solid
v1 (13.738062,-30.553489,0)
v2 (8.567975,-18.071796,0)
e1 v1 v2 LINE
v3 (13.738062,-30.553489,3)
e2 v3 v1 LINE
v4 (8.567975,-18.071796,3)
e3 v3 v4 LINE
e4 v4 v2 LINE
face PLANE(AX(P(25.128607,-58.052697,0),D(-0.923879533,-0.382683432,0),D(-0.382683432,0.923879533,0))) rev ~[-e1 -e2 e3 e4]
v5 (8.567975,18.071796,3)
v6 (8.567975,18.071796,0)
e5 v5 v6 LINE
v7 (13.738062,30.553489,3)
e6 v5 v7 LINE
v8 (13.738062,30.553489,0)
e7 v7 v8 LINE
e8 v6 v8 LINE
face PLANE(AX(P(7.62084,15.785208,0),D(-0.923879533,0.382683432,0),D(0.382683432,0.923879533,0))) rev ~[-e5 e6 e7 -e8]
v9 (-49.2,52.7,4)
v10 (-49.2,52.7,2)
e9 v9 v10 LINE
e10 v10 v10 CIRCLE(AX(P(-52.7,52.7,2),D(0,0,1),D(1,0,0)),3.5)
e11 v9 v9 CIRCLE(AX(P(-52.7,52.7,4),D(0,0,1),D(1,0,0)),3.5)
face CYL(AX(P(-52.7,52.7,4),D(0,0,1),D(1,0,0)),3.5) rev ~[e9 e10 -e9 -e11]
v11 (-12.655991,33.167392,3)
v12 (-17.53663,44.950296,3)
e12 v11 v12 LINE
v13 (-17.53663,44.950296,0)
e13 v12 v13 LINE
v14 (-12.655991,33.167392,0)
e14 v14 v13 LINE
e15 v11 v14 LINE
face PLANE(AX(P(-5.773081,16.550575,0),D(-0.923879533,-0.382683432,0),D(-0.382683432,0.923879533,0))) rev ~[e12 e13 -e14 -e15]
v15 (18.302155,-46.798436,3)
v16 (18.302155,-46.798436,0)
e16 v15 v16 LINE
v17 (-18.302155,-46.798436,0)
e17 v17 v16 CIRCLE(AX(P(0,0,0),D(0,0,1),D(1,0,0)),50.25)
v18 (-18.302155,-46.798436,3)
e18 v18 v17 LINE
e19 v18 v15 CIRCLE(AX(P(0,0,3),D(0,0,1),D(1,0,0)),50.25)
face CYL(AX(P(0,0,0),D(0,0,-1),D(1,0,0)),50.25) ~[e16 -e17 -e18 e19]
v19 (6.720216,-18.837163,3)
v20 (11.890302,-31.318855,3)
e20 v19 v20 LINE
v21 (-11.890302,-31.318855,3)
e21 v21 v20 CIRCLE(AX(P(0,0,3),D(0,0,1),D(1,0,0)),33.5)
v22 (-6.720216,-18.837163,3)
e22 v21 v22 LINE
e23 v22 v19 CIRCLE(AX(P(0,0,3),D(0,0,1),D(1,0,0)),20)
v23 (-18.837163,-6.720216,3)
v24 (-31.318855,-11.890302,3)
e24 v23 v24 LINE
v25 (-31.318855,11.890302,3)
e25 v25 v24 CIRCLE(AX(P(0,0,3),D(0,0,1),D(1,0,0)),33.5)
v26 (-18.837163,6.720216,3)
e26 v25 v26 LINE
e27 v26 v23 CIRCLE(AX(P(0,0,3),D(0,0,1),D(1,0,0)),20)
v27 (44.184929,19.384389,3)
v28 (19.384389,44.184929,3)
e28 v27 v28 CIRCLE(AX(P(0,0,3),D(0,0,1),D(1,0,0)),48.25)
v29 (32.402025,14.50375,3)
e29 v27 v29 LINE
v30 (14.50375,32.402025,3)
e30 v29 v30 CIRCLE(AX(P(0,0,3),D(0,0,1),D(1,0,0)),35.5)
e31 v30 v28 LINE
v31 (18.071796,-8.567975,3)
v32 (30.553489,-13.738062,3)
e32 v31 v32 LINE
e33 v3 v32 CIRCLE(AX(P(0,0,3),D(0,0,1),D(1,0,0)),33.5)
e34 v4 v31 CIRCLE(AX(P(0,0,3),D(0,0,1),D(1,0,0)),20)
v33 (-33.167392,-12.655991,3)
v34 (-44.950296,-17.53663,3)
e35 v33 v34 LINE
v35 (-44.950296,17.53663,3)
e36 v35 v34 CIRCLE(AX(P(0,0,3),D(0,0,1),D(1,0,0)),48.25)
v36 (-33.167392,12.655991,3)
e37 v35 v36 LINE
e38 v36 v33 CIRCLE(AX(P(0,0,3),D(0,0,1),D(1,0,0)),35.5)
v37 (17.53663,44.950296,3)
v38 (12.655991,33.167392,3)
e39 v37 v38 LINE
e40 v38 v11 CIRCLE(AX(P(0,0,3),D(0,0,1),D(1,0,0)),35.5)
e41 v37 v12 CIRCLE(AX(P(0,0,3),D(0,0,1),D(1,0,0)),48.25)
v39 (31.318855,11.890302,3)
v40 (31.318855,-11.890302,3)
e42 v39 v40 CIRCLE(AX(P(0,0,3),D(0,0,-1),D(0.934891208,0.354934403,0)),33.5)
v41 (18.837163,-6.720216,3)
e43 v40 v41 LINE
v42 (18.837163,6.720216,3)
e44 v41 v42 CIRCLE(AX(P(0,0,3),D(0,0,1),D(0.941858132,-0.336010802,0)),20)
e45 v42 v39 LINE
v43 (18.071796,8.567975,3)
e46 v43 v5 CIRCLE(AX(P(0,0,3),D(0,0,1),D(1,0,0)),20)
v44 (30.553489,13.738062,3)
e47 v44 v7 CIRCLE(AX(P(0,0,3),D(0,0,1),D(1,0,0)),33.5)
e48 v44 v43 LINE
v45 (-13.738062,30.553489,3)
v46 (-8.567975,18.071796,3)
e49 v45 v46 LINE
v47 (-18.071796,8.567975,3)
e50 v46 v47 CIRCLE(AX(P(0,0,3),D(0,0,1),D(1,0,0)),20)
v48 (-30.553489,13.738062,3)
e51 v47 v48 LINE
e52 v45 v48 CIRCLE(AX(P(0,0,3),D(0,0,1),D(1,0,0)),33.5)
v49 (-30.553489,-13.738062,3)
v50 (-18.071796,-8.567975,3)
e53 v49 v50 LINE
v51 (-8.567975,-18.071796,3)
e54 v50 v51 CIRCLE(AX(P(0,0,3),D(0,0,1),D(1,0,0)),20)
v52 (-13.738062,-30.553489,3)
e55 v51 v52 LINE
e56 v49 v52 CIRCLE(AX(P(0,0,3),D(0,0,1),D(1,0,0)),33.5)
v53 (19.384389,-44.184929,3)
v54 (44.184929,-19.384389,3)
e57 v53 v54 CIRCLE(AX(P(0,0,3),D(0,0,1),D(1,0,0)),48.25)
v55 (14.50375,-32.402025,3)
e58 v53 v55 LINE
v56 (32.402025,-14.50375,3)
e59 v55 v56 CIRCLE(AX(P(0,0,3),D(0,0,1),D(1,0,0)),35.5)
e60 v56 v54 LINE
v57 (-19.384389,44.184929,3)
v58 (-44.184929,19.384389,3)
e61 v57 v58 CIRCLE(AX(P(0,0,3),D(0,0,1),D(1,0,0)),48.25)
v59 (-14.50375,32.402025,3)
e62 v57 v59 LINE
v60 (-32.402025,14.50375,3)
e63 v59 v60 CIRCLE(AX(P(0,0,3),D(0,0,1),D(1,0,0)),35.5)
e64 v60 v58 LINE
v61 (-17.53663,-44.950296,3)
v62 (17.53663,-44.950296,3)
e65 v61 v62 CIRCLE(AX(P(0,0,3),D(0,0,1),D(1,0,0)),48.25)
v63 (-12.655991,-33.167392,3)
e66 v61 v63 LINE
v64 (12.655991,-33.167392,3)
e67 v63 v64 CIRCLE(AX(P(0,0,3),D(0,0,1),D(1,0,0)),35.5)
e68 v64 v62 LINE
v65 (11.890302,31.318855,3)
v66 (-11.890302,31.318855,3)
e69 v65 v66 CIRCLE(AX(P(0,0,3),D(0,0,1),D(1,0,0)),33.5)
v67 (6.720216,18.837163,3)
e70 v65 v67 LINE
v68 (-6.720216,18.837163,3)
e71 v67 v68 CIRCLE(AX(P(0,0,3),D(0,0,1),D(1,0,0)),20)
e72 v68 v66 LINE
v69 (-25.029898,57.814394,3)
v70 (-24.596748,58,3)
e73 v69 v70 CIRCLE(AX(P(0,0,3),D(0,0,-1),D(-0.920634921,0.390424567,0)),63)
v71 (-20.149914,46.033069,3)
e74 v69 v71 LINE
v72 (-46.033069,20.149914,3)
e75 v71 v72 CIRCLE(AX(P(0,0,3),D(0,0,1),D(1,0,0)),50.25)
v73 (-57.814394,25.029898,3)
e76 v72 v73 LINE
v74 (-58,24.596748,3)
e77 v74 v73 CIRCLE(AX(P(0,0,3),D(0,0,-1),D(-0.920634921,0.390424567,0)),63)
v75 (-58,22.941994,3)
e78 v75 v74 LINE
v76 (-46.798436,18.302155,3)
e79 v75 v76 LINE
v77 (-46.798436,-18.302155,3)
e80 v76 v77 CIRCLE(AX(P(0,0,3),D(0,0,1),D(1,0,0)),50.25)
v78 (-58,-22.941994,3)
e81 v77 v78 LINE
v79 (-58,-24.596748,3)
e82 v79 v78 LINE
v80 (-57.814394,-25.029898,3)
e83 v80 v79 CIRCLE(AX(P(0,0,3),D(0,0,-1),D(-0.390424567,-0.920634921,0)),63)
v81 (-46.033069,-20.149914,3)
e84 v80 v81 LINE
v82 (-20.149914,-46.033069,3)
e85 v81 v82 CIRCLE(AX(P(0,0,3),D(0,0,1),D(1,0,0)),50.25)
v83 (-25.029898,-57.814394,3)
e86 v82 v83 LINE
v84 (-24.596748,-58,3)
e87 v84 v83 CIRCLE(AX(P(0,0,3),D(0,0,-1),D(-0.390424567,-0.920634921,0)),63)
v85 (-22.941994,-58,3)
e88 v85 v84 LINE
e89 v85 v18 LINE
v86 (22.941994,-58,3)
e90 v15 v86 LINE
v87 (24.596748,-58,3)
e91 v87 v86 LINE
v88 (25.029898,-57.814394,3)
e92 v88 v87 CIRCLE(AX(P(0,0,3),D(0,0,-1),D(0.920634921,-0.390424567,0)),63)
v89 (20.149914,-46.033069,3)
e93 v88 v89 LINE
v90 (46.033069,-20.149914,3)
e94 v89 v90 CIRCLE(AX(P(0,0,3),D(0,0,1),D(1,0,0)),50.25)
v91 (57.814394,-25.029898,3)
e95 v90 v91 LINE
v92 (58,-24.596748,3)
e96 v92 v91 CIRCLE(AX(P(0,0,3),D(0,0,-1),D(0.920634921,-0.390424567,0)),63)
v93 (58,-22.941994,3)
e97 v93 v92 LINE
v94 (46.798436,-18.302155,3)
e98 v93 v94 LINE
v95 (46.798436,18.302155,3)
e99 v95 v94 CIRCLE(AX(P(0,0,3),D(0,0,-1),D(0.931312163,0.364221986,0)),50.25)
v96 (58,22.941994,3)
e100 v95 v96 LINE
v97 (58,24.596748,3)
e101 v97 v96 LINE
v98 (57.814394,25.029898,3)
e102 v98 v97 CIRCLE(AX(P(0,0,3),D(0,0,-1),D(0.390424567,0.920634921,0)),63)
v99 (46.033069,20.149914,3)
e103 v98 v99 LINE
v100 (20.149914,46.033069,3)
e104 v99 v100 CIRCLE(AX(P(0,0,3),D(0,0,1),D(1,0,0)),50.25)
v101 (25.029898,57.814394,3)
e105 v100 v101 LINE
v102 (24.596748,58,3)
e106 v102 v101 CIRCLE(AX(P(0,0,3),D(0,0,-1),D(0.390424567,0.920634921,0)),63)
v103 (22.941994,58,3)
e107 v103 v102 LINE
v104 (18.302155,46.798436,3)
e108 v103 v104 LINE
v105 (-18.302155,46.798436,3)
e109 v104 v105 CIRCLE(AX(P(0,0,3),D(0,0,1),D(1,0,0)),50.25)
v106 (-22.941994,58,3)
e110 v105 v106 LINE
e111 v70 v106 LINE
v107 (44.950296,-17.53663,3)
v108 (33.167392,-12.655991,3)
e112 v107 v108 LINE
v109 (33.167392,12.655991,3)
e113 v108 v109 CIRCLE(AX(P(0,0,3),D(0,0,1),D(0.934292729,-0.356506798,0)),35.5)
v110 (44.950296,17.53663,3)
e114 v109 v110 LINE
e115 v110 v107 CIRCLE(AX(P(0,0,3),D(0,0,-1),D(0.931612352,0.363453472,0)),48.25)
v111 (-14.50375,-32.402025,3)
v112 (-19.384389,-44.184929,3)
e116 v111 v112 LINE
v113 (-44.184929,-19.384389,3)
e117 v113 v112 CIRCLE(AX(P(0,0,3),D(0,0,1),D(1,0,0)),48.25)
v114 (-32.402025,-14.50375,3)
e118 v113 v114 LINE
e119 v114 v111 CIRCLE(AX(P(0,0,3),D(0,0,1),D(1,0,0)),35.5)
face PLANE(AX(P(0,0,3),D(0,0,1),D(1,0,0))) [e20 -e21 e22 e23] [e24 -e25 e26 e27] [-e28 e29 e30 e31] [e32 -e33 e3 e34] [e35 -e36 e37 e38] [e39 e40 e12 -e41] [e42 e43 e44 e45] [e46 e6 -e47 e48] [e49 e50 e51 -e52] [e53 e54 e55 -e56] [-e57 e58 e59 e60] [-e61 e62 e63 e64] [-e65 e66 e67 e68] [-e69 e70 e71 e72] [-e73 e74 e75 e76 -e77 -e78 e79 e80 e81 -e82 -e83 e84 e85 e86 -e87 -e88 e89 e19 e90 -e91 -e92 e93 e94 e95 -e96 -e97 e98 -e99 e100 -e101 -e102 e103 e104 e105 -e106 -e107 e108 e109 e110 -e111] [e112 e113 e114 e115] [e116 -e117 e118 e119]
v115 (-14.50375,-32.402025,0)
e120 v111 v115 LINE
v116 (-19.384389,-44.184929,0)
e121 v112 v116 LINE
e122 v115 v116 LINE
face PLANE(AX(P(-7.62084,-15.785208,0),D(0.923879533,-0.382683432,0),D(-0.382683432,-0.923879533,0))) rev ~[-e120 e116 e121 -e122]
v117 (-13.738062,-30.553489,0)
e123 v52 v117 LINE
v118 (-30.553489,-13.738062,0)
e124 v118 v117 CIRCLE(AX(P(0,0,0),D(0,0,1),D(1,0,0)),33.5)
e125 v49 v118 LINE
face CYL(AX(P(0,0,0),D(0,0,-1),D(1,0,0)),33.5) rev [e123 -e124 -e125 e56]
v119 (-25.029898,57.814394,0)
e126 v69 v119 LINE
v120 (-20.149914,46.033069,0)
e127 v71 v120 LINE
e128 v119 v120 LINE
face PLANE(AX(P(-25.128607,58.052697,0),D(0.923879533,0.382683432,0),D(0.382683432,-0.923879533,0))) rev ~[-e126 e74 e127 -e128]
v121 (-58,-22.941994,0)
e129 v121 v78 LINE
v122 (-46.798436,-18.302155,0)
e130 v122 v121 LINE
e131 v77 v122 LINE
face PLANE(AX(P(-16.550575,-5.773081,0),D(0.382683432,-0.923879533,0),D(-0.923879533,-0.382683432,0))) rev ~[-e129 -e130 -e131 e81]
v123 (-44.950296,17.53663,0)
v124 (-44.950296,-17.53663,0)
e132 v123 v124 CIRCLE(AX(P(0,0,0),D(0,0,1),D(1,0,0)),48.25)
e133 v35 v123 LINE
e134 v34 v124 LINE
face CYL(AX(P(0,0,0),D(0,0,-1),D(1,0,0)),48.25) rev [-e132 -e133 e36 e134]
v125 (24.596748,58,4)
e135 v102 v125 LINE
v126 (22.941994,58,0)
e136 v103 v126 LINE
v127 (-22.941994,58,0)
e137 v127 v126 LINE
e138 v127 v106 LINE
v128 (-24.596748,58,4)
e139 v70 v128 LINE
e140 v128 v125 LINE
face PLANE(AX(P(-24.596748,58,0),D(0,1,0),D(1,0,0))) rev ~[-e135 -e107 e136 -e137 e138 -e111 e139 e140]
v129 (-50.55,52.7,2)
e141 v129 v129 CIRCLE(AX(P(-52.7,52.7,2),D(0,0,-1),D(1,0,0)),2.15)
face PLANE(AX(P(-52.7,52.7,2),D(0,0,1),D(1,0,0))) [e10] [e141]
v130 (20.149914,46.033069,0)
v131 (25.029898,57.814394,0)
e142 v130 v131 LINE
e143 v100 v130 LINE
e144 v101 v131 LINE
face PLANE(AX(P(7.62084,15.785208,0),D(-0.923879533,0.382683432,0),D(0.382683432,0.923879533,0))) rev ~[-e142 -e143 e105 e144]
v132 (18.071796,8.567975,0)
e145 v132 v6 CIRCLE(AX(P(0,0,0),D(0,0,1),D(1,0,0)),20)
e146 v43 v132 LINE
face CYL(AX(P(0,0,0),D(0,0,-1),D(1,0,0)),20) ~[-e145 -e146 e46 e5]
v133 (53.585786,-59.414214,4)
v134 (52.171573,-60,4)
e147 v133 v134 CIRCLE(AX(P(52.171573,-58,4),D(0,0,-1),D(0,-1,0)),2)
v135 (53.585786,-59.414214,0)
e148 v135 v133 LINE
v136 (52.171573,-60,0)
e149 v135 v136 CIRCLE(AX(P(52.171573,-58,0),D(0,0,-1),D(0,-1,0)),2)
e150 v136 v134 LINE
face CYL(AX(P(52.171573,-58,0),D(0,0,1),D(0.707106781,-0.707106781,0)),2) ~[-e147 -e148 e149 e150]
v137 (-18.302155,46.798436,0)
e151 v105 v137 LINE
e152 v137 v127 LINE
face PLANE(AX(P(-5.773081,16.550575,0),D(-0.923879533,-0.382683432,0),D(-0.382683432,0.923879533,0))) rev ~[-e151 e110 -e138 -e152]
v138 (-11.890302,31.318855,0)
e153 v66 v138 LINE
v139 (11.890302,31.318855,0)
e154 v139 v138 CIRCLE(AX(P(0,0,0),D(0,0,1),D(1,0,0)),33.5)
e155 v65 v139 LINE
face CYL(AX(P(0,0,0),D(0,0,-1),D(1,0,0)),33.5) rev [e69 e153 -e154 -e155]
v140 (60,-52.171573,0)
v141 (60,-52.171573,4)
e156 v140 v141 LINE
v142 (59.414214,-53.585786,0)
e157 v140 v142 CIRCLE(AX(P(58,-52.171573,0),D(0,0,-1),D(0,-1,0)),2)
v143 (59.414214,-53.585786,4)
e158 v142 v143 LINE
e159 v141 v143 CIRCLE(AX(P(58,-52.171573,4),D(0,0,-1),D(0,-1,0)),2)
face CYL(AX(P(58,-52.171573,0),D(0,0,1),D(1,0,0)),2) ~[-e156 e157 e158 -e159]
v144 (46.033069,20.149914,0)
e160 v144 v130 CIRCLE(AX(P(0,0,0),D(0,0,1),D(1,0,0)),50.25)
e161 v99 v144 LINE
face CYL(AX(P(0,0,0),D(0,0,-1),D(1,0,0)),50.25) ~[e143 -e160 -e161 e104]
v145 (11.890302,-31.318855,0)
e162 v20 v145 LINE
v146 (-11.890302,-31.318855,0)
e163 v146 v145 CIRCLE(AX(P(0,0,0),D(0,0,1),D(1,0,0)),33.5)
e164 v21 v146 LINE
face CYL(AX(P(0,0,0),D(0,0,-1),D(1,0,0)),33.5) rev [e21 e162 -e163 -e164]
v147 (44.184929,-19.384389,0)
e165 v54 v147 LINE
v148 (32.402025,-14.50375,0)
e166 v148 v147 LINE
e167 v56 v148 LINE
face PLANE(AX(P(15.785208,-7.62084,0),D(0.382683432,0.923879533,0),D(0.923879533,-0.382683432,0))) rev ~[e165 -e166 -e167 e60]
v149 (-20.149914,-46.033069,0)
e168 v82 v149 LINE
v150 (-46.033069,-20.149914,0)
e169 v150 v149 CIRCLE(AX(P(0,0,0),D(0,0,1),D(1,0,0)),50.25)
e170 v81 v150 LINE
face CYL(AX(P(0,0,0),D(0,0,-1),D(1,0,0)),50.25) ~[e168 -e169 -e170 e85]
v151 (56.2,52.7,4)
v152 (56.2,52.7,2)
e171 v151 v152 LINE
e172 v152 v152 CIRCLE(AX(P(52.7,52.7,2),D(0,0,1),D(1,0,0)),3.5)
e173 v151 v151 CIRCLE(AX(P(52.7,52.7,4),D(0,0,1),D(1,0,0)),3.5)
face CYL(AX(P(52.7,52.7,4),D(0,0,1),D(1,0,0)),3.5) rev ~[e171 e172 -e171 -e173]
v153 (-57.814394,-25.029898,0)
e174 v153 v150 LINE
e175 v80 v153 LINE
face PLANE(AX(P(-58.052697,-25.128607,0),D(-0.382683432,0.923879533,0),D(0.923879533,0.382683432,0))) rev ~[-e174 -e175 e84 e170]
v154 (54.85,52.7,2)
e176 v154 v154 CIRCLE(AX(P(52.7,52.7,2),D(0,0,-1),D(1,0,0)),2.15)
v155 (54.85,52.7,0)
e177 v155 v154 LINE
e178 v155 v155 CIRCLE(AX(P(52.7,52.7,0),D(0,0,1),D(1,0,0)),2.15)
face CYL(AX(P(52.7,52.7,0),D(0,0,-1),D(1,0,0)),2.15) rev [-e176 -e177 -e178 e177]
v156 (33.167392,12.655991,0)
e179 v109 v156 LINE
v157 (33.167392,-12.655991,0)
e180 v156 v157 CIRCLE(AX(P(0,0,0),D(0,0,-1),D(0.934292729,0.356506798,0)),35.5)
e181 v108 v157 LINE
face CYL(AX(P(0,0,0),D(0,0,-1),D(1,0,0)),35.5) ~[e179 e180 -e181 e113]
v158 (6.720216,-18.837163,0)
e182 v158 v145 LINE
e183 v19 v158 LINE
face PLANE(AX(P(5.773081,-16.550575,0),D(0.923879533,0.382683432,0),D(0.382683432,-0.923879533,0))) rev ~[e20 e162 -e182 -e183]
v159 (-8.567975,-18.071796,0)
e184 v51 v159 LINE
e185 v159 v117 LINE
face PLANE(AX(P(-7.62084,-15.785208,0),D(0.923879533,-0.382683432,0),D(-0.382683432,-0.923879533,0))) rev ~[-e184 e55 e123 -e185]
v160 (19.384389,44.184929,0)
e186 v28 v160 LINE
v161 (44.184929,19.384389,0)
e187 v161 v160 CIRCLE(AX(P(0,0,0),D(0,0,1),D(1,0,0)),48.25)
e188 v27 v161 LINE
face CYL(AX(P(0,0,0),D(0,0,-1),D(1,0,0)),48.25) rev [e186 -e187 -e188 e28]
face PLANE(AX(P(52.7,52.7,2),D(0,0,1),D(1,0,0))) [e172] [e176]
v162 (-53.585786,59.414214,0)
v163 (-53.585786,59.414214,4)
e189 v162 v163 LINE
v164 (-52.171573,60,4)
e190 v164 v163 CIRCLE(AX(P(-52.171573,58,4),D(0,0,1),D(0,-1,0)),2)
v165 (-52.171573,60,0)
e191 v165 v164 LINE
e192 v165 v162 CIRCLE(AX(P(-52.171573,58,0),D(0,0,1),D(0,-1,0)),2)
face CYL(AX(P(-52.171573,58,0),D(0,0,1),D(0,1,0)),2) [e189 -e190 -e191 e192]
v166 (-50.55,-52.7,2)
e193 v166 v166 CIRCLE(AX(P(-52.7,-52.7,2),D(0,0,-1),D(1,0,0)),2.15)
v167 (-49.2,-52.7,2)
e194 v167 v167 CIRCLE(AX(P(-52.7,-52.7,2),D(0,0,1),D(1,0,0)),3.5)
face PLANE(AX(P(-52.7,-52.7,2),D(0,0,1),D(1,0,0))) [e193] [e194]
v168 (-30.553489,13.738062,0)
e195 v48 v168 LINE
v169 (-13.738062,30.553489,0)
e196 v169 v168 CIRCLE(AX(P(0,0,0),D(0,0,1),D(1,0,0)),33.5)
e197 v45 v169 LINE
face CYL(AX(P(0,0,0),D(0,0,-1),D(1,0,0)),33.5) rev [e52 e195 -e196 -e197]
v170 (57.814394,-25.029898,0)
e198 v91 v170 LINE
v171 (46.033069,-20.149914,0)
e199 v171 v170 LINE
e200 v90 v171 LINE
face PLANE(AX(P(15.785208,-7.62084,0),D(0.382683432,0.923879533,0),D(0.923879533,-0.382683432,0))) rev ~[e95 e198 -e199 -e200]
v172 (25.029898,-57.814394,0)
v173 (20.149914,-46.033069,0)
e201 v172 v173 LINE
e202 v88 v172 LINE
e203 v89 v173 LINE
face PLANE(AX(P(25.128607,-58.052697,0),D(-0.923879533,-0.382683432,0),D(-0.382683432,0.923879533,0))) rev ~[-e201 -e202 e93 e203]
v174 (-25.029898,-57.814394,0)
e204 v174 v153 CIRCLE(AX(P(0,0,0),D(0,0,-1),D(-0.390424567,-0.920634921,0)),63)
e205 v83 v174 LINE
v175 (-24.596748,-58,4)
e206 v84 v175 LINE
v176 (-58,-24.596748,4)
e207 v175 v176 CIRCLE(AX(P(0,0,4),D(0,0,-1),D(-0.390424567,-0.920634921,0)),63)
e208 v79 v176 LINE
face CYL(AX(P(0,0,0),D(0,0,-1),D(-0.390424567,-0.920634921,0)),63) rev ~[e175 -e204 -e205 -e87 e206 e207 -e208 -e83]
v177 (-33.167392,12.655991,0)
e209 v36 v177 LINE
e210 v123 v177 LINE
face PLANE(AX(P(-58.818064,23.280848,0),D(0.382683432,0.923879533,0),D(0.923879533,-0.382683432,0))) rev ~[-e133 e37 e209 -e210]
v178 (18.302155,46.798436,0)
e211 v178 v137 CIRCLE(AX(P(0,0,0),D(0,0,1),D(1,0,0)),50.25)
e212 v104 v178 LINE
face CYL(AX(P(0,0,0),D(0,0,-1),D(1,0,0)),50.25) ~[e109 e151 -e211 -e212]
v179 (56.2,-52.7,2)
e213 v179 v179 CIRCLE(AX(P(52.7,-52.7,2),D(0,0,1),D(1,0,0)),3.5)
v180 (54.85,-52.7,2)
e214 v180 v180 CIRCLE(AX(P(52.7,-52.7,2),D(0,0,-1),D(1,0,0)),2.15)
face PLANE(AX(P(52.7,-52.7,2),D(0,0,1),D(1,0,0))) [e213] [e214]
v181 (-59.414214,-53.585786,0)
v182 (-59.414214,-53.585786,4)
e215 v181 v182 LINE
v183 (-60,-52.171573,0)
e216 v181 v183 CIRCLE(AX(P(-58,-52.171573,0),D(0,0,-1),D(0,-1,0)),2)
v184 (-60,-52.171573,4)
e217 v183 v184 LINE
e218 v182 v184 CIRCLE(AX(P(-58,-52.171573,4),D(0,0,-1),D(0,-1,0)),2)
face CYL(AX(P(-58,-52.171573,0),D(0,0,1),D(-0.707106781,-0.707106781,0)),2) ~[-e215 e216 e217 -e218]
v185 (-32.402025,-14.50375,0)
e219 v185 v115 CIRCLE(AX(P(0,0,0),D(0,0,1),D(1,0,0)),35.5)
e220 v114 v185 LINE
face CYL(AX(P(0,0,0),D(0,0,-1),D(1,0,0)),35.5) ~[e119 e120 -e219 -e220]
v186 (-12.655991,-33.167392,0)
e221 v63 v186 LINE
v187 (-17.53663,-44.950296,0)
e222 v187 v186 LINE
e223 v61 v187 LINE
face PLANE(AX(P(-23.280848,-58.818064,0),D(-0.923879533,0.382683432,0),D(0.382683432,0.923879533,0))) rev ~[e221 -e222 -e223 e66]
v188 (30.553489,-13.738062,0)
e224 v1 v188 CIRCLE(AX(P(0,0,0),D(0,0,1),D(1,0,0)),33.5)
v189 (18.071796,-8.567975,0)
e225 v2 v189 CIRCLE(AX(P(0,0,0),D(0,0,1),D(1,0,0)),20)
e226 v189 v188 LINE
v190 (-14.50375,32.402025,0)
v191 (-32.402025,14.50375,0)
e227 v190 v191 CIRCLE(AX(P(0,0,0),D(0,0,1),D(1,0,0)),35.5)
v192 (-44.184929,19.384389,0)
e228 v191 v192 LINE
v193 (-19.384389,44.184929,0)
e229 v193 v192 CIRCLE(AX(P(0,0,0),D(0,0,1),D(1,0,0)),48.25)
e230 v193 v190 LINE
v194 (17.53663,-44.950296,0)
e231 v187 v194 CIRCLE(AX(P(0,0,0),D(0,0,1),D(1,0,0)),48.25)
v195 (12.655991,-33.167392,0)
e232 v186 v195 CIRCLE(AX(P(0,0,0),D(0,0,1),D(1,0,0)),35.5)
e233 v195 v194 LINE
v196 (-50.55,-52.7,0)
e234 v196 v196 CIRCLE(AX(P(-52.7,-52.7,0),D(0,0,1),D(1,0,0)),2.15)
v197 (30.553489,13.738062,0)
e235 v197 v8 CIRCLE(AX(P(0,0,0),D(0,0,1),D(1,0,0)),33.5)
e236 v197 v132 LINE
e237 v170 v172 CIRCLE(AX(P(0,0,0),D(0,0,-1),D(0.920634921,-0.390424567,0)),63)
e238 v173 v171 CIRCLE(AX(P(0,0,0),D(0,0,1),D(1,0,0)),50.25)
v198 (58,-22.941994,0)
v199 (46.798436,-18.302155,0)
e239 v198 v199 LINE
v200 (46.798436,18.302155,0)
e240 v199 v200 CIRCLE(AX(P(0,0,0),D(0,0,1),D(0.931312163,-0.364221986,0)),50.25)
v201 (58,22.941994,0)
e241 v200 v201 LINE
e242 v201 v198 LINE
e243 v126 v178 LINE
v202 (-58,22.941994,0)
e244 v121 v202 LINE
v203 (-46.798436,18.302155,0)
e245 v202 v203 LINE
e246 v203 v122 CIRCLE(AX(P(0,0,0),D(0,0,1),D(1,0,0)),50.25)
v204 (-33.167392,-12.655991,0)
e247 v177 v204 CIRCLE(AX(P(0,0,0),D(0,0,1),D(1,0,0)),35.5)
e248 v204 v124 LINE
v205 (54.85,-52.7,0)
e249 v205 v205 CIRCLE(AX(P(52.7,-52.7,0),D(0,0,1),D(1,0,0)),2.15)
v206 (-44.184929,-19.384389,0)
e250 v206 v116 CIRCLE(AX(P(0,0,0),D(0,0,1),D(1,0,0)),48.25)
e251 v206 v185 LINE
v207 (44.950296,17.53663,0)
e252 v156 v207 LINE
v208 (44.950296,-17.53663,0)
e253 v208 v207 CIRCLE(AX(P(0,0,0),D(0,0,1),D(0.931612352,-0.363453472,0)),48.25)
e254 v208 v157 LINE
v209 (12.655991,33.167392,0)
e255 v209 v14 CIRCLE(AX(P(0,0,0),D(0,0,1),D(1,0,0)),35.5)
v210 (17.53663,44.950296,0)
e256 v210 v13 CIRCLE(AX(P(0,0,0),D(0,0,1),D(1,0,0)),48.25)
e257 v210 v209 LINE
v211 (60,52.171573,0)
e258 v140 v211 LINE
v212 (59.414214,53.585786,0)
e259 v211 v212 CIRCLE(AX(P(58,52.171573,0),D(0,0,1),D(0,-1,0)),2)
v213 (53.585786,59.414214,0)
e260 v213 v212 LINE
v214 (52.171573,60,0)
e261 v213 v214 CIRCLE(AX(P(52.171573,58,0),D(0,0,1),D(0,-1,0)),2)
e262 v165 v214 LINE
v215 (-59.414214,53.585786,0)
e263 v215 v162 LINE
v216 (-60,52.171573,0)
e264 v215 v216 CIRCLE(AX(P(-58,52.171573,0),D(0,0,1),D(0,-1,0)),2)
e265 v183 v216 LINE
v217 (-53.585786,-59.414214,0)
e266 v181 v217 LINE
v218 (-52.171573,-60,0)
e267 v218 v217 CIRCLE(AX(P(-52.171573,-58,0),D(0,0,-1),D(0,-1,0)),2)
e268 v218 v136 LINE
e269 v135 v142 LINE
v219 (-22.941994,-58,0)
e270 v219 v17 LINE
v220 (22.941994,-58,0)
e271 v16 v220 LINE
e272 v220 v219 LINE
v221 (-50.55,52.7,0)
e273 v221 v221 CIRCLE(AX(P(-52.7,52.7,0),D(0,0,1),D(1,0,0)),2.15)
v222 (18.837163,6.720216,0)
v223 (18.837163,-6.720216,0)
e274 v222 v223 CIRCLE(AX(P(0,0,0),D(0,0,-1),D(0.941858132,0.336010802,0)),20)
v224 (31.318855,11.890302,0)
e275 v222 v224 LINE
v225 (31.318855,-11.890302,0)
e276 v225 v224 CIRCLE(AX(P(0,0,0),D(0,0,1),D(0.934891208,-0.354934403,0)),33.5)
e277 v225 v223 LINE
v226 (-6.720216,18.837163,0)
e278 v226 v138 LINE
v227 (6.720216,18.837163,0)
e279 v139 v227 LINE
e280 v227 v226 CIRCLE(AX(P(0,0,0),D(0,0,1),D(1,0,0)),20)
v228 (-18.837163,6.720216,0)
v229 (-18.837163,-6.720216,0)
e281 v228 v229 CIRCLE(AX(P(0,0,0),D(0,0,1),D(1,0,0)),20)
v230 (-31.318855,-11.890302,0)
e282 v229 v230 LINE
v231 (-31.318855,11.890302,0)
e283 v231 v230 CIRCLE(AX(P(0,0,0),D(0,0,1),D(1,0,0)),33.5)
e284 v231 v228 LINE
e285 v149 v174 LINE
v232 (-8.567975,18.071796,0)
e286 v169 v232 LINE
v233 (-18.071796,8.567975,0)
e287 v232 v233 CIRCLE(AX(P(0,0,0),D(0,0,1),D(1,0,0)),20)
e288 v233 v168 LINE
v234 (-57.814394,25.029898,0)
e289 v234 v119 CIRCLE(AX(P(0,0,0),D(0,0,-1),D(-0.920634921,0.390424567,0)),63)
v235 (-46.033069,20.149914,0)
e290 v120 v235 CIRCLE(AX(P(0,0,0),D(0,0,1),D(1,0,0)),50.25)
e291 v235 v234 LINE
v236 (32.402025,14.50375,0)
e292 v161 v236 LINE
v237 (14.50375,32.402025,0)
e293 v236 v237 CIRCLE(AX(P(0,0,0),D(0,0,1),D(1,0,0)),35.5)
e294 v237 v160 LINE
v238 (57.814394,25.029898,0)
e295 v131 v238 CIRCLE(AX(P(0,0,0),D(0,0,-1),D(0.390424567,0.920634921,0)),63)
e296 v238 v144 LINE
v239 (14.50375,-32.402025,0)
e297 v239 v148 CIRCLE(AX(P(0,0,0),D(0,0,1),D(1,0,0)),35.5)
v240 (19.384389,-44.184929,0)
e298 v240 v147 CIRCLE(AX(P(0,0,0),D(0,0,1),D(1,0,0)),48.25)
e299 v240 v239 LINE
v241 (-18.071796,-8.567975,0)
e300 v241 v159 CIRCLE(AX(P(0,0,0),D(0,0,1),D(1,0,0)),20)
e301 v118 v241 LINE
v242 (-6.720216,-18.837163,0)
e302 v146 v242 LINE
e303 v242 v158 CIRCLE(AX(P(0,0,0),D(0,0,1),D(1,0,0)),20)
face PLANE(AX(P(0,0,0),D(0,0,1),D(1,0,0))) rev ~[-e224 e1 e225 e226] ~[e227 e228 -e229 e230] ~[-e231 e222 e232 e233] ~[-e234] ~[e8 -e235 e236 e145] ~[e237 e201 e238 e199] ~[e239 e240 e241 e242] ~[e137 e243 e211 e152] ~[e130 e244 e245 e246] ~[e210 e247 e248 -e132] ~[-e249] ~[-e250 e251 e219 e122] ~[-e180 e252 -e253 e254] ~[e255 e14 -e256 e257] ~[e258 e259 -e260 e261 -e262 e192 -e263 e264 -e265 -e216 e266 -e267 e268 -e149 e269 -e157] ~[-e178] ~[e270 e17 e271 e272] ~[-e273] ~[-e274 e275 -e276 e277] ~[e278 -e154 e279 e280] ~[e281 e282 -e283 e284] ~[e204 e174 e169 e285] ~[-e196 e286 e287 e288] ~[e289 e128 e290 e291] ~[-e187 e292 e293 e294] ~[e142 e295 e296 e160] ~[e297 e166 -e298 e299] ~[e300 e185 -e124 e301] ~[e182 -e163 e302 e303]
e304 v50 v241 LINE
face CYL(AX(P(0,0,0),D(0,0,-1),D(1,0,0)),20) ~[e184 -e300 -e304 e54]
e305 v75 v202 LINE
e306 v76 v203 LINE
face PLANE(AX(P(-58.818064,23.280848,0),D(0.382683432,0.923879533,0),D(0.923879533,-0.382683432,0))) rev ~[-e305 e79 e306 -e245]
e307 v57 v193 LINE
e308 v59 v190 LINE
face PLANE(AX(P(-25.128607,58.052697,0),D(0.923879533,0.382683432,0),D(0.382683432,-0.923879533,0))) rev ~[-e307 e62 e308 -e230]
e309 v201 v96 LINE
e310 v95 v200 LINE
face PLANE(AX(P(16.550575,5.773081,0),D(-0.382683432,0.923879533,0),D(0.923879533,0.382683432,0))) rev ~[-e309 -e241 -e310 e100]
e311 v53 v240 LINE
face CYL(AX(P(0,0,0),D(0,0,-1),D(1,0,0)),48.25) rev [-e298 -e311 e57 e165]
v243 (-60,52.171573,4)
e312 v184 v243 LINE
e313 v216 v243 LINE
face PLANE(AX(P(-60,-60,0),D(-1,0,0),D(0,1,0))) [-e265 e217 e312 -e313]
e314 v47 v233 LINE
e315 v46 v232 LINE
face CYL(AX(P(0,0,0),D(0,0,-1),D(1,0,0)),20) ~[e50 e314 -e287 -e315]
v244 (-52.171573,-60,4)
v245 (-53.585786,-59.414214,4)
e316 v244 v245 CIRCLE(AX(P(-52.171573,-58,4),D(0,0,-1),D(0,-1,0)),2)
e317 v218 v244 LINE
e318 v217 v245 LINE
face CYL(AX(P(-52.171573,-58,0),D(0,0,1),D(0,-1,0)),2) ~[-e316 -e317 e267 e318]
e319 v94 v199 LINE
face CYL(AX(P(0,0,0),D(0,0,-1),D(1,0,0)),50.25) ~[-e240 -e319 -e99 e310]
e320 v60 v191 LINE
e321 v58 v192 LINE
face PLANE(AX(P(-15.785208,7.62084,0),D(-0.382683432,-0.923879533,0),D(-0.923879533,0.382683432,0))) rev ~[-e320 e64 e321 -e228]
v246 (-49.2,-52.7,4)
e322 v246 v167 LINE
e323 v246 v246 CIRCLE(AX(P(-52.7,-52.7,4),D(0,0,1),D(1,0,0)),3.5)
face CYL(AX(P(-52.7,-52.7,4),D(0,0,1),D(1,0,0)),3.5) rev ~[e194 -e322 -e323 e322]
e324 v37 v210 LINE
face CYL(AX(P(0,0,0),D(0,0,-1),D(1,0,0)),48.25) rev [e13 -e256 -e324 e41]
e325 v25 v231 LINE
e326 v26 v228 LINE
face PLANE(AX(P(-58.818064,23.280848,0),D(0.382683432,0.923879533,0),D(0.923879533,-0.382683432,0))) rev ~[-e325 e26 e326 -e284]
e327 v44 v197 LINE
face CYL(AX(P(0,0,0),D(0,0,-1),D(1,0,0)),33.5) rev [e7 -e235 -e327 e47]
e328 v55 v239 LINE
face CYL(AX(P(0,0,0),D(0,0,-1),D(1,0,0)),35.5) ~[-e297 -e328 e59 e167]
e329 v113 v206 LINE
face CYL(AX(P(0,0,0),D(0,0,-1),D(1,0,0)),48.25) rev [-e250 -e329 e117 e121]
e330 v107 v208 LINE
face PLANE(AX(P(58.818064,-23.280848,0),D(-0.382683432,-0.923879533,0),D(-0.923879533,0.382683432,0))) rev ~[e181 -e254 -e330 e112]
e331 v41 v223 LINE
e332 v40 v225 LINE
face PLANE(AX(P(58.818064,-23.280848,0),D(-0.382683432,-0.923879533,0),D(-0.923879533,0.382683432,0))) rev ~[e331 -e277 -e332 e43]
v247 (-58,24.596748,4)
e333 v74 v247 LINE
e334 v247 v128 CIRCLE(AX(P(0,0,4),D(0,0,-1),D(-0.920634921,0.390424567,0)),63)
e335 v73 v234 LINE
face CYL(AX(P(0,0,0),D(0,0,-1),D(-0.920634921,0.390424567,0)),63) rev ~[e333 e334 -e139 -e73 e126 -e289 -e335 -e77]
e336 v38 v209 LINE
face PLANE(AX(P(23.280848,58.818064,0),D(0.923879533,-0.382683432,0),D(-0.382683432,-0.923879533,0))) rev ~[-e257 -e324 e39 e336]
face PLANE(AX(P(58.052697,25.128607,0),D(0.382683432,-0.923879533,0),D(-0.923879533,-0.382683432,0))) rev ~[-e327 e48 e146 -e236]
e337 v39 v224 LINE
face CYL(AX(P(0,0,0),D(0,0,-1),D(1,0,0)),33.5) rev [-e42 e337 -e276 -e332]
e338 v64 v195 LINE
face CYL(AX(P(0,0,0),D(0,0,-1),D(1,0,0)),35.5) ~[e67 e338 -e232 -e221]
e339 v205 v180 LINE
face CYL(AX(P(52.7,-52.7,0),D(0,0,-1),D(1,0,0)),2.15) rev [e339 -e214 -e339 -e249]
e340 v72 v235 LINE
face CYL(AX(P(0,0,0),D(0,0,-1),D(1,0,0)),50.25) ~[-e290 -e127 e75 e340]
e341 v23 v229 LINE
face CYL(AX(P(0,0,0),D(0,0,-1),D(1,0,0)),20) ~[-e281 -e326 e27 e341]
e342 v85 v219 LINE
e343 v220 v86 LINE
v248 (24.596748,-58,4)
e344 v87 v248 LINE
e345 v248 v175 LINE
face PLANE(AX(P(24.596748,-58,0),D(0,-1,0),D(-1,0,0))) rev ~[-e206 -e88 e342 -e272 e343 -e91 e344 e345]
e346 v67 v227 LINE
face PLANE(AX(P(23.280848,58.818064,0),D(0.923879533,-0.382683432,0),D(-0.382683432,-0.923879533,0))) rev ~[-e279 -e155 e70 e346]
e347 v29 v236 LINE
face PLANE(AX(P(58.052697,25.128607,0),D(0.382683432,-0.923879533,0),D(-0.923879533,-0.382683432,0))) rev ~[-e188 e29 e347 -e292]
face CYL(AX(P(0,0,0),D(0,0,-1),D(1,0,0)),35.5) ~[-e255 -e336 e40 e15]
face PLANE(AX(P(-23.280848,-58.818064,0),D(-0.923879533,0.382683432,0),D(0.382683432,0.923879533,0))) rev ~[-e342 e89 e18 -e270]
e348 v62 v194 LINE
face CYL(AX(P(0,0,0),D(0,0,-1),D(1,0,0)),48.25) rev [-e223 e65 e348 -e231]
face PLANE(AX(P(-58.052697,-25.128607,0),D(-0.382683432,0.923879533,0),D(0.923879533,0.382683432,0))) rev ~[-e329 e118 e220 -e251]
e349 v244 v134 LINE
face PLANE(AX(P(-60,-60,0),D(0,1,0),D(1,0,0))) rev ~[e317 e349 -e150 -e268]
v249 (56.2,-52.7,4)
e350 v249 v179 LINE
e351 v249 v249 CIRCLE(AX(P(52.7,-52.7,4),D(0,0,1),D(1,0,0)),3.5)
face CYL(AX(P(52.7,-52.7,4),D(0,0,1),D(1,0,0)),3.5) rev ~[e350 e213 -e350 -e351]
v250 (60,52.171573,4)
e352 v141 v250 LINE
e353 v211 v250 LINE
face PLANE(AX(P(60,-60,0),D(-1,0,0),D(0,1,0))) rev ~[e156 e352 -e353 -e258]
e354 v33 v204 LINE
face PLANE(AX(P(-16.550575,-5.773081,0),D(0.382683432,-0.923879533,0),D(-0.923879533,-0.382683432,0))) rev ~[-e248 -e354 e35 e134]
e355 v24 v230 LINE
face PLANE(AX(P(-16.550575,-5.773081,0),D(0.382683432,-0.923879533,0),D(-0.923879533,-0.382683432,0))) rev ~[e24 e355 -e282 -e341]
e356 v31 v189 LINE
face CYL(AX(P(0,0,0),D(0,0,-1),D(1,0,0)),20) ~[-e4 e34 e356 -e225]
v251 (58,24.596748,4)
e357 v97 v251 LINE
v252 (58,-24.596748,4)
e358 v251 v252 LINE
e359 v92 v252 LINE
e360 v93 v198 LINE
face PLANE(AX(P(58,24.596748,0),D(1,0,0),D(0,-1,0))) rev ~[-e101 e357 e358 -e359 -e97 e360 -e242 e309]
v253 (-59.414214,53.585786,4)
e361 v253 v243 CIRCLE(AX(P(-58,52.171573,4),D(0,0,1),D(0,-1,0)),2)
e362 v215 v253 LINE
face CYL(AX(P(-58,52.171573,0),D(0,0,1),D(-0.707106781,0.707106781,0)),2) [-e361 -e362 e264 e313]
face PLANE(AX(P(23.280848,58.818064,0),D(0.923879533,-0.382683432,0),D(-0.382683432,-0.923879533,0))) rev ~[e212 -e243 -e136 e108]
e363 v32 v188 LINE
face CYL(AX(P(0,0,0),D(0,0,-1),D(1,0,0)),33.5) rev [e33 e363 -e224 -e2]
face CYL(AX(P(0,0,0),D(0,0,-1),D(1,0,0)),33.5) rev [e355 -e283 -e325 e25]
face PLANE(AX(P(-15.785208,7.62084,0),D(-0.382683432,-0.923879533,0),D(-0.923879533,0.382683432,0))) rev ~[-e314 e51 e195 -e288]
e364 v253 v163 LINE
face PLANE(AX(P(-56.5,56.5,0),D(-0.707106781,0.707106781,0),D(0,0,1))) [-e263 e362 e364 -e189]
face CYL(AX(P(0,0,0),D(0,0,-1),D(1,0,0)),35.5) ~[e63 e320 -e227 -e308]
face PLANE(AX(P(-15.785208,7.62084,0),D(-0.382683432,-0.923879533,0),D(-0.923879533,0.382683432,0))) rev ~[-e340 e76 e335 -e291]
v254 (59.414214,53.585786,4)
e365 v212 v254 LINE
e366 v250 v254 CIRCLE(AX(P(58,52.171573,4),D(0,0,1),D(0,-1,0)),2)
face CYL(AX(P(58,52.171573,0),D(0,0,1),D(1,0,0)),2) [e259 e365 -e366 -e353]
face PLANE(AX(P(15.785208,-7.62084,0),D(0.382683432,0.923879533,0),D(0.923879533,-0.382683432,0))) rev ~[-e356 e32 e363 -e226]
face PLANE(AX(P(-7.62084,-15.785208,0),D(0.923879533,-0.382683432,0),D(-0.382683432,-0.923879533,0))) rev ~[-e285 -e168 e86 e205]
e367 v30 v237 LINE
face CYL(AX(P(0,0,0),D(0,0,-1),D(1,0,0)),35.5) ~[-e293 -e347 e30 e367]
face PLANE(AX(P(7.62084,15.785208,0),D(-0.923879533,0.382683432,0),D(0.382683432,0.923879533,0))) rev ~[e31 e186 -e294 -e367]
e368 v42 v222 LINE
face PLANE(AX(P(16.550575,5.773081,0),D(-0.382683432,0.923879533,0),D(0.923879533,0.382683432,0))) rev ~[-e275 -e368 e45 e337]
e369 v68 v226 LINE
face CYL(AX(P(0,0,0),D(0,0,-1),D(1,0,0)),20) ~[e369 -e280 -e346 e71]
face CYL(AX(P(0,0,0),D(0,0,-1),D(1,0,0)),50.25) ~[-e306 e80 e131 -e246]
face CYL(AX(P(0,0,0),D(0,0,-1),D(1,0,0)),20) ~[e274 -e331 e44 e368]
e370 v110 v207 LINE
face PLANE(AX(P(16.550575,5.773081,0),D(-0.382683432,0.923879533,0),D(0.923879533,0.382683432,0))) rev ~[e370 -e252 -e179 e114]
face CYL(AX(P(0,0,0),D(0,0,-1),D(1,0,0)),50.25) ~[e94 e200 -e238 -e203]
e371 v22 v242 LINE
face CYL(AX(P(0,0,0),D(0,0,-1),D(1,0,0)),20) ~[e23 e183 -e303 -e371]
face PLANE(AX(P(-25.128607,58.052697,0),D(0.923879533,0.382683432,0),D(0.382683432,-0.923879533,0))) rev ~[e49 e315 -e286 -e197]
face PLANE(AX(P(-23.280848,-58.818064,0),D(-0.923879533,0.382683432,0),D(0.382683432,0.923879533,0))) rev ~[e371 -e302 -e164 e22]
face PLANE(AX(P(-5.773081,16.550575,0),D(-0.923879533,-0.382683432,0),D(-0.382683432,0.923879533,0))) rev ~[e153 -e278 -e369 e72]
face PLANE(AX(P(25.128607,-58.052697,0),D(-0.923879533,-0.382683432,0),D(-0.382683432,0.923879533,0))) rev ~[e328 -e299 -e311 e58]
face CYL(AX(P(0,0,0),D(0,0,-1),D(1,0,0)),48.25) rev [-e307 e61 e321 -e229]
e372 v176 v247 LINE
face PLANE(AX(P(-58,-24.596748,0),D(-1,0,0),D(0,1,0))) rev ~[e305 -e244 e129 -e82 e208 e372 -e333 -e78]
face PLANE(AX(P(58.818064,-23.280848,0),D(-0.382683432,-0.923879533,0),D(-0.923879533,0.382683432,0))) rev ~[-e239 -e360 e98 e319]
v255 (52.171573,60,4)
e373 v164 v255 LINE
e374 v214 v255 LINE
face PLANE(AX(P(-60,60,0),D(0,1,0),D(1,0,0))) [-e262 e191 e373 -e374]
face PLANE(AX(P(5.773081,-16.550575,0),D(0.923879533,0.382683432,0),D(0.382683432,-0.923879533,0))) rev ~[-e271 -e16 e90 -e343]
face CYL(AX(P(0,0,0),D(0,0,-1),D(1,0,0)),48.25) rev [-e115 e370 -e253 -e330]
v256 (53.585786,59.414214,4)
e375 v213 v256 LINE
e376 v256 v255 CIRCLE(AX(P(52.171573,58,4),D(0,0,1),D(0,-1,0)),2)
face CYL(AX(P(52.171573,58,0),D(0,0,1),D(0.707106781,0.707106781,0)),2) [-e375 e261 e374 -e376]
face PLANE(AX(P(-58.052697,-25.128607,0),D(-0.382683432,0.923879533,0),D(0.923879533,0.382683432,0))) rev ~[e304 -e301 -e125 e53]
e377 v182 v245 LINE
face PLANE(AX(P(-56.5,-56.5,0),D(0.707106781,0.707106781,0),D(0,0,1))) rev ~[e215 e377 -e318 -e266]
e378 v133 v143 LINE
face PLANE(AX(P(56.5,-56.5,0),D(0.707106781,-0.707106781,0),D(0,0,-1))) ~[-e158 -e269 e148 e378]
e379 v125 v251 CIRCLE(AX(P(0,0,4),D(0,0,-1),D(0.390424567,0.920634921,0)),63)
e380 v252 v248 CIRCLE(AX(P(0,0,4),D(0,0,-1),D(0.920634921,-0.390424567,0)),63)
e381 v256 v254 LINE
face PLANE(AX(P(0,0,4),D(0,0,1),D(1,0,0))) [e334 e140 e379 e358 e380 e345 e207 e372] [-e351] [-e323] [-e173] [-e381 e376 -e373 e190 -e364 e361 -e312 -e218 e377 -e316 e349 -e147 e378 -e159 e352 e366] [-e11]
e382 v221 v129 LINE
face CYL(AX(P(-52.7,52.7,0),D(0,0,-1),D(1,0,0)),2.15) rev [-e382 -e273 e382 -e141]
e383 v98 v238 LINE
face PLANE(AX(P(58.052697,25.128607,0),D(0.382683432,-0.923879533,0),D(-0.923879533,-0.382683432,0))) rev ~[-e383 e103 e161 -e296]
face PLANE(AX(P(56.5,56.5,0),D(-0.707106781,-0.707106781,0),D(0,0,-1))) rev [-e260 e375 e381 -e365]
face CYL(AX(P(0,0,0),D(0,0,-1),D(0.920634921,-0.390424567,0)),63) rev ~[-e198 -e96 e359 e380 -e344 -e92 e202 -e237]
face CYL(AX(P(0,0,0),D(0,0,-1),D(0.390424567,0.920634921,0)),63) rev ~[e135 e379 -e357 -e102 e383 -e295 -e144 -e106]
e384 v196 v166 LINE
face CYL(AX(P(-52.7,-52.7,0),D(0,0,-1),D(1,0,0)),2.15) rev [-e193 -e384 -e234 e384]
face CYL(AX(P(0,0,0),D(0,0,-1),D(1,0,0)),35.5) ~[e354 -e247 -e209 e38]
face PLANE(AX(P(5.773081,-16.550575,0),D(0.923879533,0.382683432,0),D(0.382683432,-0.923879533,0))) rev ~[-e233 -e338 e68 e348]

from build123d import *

# Parameters (mm, degrees)
SKETCH1_W           = 120
SKETCH1_H           = 120
SKETCH1_R           = 2.15
BOSS_EXTRUDE1_DEPTH = 4
CHAMFER1_SIZE       = 7
SKETCH2_R           = 20
BOSS_EXTRUDE2_DEPTH = 3
SKETCH3_R           = 50.25
SKETCH3_R_2         = 48.25
SKETCH3_R_3         = 35.5
SKETCH3_R_4         = 33.5
EXTRUDE_THIN1_DEPTH = 3
FILLET1_R           = 2
SKETCH4_R           = 3.5
CUT_EXTRUDE1_DEPTH  = 2


with BuildPart() as part:
    # Sketch1 → Boss-Extrude1 (new body)
    with BuildSketch(Plane.XY):
        Rectangle(SKETCH1_W, SKETCH1_H)
        with Locations((-52.7, 52.7)):
            Circle(SKETCH1_R, mode=Mode.SUBTRACT)
        with Locations((52.7, 52.7)):
            Circle(SKETCH1_R, mode=Mode.SUBTRACT)
        with Locations((-52.7, -52.7)):
            Circle(SKETCH1_R, mode=Mode.SUBTRACT)
        with Locations((52.7, -52.7)):
            Circle(SKETCH1_R, mode=Mode.SUBTRACT)
        with BuildLine():
            Line((-24.596747752, 58), (24.596747752, 58))
            ThreePointArc((24.596747752, 58), (44.547727215, 44.547727215), (58, 24.596747752))
            Line((58, 24.596747752), (58, -24.596747752))
            ThreePointArc((58, -24.596747752), (44.547727215, -44.547727215), (24.596747752, -58))
            Line((24.596747752, -58), (-24.596747752, -58))
            ThreePointArc((-24.596747752, -58), (-44.547727215, -44.547727215), (-58, -24.596747752))
            Line((-58, -24.596747752), (-58, 24.596747752))
            ThreePointArc((-58, 24.596747752), (-44.547727215, 44.547727215), (-24.596747752, 58))
        make_face(mode=Mode.SUBTRACT)
    extrude(amount=BOSS_EXTRUDE1_DEPTH)

    # Chamfer1
    chamfer1_edges = [part.edges().sort_by_distance(p)[0] for p in [
        (60, -60, 2),
        (-60, -60, 2),
        (-60, 60, 2),
        (60, 60, 2),
    ]]
    chamfer(chamfer1_edges, length=CHAMFER1_SIZE)



with BuildPart() as body_2:
    # Sketch2 → Boss-Extrude2 (new body)
    with BuildSketch(Plane.XY):
        Circle(SKETCH2_R)
    extrude(amount=BOSS_EXTRUDE2_DEPTH)


with BuildPart() as part_1:
    add(part.part)

    add(body_2.part)  # Extrude-Thin1 merges body 2
    # Sketch3 → Extrude-Thin1 (add)
    # profile 1 of 10: a face of its own
    with BuildSketch(Plane.XY):
        Circle(SKETCH3_R)
        Circle(SKETCH3_R_2, mode=Mode.SUBTRACT)
    # profile 2 of 10: a face of its own
    with BuildSketch(Plane.XY):
        Circle(SKETCH3_R_3)
        Circle(SKETCH3_R_4, mode=Mode.SUBTRACT)
    # profile 3 of 10: a face of its own
    with BuildSketch(Plane.XY):
        Polygon((7.620839599, 15.785208387), (25.12860663, 58.052696999), (23.280847565, 58.818063864), (5.773080534, 16.550575251), align=None)
    # profile 4 of 10: a face of its own
    with BuildSketch(Plane.XY):
        Polygon((16.550575251, 5.773080534), (58.818063864, 23.280847565), (58.052696999, 25.12860663), (15.785208387, 7.620839599), align=None)
    # profile 5 of 10: a face of its own
    with BuildSketch(Plane.XY):
        Polygon((15.785208387, -7.620839599), (58.052696999, -25.12860663), (58.818063864, -23.280847565), (16.550575251, -5.773080534), align=None)
    # profile 6 of 10: a face of its own
    with BuildSketch(Plane.XY):
        Polygon((5.773080534, -16.550575251), (23.280847565, -58.818063864), (25.12860663, -58.052696999), (7.620839599, -15.785208387), align=None)
    # profile 7 of 10: a face of its own
    with BuildSketch(Plane.XY):
        Polygon((-7.620839599, -15.785208387), (-25.12860663, -58.052696999), (-23.280847565, -58.818063864), (-5.773080534, -16.550575251), align=None)
    # profile 8 of 10: a face of its own
    with BuildSketch(Plane.XY):
        Polygon((-16.550575251, -5.773080534), (-58.818063864, -23.280847565), (-58.052696999, -25.12860663), (-15.785208387, -7.620839599), align=None)
    # profile 9 of 10: a face of its own
    with BuildSketch(Plane.XY):
        Polygon((-15.785208387, 7.620839599), (-58.052696999, 25.12860663), (-58.818063864, 23.280847565), (-16.550575251, 5.773080534), align=None)
    # profile 10 of 10: a face of its own
    with BuildSketch(Plane.XY):
        Polygon((-5.773080534, 16.550575251), (-23.280847565, 58.818063864), (-25.12860663, 58.052696999), (-7.620839599, 15.785208387), align=None)
    extrude(amount=EXTRUDE_THIN1_DEPTH)

    # Fillet1
    fillet1_edges = [part_1.edges().sort_by_distance(p)[0] for p in [
        (60, -53, 2),
        (60, 53, 2),
        (53, 60, 2),
        (-53, 60, 2),
        (-60, -53, 2),
        (-60, 53, 2),
        (-53, -60, 2),
        (53, -60, 2),
    ]]
    fillet(fillet1_edges, radius=FILLET1_R)

    # Sketch4 → Cut-Extrude1 (cut)
    with BuildSketch(Plane.XY.offset(4)):
        with Locations((-52.7, 52.7)):
            Circle(SKETCH4_R)
        with Locations((52.7, 52.7)):
            Circle(SKETCH4_R)
        with Locations((52.7, -52.7)):
            Circle(SKETCH4_R)
        with Locations((-52.7, -52.7)):
            Circle(SKETCH4_R)
    extrude(amount=-CUT_EXTRUDE1_DEPTH, mode=Mode.SUBTRACT)


solid = part_1.part
